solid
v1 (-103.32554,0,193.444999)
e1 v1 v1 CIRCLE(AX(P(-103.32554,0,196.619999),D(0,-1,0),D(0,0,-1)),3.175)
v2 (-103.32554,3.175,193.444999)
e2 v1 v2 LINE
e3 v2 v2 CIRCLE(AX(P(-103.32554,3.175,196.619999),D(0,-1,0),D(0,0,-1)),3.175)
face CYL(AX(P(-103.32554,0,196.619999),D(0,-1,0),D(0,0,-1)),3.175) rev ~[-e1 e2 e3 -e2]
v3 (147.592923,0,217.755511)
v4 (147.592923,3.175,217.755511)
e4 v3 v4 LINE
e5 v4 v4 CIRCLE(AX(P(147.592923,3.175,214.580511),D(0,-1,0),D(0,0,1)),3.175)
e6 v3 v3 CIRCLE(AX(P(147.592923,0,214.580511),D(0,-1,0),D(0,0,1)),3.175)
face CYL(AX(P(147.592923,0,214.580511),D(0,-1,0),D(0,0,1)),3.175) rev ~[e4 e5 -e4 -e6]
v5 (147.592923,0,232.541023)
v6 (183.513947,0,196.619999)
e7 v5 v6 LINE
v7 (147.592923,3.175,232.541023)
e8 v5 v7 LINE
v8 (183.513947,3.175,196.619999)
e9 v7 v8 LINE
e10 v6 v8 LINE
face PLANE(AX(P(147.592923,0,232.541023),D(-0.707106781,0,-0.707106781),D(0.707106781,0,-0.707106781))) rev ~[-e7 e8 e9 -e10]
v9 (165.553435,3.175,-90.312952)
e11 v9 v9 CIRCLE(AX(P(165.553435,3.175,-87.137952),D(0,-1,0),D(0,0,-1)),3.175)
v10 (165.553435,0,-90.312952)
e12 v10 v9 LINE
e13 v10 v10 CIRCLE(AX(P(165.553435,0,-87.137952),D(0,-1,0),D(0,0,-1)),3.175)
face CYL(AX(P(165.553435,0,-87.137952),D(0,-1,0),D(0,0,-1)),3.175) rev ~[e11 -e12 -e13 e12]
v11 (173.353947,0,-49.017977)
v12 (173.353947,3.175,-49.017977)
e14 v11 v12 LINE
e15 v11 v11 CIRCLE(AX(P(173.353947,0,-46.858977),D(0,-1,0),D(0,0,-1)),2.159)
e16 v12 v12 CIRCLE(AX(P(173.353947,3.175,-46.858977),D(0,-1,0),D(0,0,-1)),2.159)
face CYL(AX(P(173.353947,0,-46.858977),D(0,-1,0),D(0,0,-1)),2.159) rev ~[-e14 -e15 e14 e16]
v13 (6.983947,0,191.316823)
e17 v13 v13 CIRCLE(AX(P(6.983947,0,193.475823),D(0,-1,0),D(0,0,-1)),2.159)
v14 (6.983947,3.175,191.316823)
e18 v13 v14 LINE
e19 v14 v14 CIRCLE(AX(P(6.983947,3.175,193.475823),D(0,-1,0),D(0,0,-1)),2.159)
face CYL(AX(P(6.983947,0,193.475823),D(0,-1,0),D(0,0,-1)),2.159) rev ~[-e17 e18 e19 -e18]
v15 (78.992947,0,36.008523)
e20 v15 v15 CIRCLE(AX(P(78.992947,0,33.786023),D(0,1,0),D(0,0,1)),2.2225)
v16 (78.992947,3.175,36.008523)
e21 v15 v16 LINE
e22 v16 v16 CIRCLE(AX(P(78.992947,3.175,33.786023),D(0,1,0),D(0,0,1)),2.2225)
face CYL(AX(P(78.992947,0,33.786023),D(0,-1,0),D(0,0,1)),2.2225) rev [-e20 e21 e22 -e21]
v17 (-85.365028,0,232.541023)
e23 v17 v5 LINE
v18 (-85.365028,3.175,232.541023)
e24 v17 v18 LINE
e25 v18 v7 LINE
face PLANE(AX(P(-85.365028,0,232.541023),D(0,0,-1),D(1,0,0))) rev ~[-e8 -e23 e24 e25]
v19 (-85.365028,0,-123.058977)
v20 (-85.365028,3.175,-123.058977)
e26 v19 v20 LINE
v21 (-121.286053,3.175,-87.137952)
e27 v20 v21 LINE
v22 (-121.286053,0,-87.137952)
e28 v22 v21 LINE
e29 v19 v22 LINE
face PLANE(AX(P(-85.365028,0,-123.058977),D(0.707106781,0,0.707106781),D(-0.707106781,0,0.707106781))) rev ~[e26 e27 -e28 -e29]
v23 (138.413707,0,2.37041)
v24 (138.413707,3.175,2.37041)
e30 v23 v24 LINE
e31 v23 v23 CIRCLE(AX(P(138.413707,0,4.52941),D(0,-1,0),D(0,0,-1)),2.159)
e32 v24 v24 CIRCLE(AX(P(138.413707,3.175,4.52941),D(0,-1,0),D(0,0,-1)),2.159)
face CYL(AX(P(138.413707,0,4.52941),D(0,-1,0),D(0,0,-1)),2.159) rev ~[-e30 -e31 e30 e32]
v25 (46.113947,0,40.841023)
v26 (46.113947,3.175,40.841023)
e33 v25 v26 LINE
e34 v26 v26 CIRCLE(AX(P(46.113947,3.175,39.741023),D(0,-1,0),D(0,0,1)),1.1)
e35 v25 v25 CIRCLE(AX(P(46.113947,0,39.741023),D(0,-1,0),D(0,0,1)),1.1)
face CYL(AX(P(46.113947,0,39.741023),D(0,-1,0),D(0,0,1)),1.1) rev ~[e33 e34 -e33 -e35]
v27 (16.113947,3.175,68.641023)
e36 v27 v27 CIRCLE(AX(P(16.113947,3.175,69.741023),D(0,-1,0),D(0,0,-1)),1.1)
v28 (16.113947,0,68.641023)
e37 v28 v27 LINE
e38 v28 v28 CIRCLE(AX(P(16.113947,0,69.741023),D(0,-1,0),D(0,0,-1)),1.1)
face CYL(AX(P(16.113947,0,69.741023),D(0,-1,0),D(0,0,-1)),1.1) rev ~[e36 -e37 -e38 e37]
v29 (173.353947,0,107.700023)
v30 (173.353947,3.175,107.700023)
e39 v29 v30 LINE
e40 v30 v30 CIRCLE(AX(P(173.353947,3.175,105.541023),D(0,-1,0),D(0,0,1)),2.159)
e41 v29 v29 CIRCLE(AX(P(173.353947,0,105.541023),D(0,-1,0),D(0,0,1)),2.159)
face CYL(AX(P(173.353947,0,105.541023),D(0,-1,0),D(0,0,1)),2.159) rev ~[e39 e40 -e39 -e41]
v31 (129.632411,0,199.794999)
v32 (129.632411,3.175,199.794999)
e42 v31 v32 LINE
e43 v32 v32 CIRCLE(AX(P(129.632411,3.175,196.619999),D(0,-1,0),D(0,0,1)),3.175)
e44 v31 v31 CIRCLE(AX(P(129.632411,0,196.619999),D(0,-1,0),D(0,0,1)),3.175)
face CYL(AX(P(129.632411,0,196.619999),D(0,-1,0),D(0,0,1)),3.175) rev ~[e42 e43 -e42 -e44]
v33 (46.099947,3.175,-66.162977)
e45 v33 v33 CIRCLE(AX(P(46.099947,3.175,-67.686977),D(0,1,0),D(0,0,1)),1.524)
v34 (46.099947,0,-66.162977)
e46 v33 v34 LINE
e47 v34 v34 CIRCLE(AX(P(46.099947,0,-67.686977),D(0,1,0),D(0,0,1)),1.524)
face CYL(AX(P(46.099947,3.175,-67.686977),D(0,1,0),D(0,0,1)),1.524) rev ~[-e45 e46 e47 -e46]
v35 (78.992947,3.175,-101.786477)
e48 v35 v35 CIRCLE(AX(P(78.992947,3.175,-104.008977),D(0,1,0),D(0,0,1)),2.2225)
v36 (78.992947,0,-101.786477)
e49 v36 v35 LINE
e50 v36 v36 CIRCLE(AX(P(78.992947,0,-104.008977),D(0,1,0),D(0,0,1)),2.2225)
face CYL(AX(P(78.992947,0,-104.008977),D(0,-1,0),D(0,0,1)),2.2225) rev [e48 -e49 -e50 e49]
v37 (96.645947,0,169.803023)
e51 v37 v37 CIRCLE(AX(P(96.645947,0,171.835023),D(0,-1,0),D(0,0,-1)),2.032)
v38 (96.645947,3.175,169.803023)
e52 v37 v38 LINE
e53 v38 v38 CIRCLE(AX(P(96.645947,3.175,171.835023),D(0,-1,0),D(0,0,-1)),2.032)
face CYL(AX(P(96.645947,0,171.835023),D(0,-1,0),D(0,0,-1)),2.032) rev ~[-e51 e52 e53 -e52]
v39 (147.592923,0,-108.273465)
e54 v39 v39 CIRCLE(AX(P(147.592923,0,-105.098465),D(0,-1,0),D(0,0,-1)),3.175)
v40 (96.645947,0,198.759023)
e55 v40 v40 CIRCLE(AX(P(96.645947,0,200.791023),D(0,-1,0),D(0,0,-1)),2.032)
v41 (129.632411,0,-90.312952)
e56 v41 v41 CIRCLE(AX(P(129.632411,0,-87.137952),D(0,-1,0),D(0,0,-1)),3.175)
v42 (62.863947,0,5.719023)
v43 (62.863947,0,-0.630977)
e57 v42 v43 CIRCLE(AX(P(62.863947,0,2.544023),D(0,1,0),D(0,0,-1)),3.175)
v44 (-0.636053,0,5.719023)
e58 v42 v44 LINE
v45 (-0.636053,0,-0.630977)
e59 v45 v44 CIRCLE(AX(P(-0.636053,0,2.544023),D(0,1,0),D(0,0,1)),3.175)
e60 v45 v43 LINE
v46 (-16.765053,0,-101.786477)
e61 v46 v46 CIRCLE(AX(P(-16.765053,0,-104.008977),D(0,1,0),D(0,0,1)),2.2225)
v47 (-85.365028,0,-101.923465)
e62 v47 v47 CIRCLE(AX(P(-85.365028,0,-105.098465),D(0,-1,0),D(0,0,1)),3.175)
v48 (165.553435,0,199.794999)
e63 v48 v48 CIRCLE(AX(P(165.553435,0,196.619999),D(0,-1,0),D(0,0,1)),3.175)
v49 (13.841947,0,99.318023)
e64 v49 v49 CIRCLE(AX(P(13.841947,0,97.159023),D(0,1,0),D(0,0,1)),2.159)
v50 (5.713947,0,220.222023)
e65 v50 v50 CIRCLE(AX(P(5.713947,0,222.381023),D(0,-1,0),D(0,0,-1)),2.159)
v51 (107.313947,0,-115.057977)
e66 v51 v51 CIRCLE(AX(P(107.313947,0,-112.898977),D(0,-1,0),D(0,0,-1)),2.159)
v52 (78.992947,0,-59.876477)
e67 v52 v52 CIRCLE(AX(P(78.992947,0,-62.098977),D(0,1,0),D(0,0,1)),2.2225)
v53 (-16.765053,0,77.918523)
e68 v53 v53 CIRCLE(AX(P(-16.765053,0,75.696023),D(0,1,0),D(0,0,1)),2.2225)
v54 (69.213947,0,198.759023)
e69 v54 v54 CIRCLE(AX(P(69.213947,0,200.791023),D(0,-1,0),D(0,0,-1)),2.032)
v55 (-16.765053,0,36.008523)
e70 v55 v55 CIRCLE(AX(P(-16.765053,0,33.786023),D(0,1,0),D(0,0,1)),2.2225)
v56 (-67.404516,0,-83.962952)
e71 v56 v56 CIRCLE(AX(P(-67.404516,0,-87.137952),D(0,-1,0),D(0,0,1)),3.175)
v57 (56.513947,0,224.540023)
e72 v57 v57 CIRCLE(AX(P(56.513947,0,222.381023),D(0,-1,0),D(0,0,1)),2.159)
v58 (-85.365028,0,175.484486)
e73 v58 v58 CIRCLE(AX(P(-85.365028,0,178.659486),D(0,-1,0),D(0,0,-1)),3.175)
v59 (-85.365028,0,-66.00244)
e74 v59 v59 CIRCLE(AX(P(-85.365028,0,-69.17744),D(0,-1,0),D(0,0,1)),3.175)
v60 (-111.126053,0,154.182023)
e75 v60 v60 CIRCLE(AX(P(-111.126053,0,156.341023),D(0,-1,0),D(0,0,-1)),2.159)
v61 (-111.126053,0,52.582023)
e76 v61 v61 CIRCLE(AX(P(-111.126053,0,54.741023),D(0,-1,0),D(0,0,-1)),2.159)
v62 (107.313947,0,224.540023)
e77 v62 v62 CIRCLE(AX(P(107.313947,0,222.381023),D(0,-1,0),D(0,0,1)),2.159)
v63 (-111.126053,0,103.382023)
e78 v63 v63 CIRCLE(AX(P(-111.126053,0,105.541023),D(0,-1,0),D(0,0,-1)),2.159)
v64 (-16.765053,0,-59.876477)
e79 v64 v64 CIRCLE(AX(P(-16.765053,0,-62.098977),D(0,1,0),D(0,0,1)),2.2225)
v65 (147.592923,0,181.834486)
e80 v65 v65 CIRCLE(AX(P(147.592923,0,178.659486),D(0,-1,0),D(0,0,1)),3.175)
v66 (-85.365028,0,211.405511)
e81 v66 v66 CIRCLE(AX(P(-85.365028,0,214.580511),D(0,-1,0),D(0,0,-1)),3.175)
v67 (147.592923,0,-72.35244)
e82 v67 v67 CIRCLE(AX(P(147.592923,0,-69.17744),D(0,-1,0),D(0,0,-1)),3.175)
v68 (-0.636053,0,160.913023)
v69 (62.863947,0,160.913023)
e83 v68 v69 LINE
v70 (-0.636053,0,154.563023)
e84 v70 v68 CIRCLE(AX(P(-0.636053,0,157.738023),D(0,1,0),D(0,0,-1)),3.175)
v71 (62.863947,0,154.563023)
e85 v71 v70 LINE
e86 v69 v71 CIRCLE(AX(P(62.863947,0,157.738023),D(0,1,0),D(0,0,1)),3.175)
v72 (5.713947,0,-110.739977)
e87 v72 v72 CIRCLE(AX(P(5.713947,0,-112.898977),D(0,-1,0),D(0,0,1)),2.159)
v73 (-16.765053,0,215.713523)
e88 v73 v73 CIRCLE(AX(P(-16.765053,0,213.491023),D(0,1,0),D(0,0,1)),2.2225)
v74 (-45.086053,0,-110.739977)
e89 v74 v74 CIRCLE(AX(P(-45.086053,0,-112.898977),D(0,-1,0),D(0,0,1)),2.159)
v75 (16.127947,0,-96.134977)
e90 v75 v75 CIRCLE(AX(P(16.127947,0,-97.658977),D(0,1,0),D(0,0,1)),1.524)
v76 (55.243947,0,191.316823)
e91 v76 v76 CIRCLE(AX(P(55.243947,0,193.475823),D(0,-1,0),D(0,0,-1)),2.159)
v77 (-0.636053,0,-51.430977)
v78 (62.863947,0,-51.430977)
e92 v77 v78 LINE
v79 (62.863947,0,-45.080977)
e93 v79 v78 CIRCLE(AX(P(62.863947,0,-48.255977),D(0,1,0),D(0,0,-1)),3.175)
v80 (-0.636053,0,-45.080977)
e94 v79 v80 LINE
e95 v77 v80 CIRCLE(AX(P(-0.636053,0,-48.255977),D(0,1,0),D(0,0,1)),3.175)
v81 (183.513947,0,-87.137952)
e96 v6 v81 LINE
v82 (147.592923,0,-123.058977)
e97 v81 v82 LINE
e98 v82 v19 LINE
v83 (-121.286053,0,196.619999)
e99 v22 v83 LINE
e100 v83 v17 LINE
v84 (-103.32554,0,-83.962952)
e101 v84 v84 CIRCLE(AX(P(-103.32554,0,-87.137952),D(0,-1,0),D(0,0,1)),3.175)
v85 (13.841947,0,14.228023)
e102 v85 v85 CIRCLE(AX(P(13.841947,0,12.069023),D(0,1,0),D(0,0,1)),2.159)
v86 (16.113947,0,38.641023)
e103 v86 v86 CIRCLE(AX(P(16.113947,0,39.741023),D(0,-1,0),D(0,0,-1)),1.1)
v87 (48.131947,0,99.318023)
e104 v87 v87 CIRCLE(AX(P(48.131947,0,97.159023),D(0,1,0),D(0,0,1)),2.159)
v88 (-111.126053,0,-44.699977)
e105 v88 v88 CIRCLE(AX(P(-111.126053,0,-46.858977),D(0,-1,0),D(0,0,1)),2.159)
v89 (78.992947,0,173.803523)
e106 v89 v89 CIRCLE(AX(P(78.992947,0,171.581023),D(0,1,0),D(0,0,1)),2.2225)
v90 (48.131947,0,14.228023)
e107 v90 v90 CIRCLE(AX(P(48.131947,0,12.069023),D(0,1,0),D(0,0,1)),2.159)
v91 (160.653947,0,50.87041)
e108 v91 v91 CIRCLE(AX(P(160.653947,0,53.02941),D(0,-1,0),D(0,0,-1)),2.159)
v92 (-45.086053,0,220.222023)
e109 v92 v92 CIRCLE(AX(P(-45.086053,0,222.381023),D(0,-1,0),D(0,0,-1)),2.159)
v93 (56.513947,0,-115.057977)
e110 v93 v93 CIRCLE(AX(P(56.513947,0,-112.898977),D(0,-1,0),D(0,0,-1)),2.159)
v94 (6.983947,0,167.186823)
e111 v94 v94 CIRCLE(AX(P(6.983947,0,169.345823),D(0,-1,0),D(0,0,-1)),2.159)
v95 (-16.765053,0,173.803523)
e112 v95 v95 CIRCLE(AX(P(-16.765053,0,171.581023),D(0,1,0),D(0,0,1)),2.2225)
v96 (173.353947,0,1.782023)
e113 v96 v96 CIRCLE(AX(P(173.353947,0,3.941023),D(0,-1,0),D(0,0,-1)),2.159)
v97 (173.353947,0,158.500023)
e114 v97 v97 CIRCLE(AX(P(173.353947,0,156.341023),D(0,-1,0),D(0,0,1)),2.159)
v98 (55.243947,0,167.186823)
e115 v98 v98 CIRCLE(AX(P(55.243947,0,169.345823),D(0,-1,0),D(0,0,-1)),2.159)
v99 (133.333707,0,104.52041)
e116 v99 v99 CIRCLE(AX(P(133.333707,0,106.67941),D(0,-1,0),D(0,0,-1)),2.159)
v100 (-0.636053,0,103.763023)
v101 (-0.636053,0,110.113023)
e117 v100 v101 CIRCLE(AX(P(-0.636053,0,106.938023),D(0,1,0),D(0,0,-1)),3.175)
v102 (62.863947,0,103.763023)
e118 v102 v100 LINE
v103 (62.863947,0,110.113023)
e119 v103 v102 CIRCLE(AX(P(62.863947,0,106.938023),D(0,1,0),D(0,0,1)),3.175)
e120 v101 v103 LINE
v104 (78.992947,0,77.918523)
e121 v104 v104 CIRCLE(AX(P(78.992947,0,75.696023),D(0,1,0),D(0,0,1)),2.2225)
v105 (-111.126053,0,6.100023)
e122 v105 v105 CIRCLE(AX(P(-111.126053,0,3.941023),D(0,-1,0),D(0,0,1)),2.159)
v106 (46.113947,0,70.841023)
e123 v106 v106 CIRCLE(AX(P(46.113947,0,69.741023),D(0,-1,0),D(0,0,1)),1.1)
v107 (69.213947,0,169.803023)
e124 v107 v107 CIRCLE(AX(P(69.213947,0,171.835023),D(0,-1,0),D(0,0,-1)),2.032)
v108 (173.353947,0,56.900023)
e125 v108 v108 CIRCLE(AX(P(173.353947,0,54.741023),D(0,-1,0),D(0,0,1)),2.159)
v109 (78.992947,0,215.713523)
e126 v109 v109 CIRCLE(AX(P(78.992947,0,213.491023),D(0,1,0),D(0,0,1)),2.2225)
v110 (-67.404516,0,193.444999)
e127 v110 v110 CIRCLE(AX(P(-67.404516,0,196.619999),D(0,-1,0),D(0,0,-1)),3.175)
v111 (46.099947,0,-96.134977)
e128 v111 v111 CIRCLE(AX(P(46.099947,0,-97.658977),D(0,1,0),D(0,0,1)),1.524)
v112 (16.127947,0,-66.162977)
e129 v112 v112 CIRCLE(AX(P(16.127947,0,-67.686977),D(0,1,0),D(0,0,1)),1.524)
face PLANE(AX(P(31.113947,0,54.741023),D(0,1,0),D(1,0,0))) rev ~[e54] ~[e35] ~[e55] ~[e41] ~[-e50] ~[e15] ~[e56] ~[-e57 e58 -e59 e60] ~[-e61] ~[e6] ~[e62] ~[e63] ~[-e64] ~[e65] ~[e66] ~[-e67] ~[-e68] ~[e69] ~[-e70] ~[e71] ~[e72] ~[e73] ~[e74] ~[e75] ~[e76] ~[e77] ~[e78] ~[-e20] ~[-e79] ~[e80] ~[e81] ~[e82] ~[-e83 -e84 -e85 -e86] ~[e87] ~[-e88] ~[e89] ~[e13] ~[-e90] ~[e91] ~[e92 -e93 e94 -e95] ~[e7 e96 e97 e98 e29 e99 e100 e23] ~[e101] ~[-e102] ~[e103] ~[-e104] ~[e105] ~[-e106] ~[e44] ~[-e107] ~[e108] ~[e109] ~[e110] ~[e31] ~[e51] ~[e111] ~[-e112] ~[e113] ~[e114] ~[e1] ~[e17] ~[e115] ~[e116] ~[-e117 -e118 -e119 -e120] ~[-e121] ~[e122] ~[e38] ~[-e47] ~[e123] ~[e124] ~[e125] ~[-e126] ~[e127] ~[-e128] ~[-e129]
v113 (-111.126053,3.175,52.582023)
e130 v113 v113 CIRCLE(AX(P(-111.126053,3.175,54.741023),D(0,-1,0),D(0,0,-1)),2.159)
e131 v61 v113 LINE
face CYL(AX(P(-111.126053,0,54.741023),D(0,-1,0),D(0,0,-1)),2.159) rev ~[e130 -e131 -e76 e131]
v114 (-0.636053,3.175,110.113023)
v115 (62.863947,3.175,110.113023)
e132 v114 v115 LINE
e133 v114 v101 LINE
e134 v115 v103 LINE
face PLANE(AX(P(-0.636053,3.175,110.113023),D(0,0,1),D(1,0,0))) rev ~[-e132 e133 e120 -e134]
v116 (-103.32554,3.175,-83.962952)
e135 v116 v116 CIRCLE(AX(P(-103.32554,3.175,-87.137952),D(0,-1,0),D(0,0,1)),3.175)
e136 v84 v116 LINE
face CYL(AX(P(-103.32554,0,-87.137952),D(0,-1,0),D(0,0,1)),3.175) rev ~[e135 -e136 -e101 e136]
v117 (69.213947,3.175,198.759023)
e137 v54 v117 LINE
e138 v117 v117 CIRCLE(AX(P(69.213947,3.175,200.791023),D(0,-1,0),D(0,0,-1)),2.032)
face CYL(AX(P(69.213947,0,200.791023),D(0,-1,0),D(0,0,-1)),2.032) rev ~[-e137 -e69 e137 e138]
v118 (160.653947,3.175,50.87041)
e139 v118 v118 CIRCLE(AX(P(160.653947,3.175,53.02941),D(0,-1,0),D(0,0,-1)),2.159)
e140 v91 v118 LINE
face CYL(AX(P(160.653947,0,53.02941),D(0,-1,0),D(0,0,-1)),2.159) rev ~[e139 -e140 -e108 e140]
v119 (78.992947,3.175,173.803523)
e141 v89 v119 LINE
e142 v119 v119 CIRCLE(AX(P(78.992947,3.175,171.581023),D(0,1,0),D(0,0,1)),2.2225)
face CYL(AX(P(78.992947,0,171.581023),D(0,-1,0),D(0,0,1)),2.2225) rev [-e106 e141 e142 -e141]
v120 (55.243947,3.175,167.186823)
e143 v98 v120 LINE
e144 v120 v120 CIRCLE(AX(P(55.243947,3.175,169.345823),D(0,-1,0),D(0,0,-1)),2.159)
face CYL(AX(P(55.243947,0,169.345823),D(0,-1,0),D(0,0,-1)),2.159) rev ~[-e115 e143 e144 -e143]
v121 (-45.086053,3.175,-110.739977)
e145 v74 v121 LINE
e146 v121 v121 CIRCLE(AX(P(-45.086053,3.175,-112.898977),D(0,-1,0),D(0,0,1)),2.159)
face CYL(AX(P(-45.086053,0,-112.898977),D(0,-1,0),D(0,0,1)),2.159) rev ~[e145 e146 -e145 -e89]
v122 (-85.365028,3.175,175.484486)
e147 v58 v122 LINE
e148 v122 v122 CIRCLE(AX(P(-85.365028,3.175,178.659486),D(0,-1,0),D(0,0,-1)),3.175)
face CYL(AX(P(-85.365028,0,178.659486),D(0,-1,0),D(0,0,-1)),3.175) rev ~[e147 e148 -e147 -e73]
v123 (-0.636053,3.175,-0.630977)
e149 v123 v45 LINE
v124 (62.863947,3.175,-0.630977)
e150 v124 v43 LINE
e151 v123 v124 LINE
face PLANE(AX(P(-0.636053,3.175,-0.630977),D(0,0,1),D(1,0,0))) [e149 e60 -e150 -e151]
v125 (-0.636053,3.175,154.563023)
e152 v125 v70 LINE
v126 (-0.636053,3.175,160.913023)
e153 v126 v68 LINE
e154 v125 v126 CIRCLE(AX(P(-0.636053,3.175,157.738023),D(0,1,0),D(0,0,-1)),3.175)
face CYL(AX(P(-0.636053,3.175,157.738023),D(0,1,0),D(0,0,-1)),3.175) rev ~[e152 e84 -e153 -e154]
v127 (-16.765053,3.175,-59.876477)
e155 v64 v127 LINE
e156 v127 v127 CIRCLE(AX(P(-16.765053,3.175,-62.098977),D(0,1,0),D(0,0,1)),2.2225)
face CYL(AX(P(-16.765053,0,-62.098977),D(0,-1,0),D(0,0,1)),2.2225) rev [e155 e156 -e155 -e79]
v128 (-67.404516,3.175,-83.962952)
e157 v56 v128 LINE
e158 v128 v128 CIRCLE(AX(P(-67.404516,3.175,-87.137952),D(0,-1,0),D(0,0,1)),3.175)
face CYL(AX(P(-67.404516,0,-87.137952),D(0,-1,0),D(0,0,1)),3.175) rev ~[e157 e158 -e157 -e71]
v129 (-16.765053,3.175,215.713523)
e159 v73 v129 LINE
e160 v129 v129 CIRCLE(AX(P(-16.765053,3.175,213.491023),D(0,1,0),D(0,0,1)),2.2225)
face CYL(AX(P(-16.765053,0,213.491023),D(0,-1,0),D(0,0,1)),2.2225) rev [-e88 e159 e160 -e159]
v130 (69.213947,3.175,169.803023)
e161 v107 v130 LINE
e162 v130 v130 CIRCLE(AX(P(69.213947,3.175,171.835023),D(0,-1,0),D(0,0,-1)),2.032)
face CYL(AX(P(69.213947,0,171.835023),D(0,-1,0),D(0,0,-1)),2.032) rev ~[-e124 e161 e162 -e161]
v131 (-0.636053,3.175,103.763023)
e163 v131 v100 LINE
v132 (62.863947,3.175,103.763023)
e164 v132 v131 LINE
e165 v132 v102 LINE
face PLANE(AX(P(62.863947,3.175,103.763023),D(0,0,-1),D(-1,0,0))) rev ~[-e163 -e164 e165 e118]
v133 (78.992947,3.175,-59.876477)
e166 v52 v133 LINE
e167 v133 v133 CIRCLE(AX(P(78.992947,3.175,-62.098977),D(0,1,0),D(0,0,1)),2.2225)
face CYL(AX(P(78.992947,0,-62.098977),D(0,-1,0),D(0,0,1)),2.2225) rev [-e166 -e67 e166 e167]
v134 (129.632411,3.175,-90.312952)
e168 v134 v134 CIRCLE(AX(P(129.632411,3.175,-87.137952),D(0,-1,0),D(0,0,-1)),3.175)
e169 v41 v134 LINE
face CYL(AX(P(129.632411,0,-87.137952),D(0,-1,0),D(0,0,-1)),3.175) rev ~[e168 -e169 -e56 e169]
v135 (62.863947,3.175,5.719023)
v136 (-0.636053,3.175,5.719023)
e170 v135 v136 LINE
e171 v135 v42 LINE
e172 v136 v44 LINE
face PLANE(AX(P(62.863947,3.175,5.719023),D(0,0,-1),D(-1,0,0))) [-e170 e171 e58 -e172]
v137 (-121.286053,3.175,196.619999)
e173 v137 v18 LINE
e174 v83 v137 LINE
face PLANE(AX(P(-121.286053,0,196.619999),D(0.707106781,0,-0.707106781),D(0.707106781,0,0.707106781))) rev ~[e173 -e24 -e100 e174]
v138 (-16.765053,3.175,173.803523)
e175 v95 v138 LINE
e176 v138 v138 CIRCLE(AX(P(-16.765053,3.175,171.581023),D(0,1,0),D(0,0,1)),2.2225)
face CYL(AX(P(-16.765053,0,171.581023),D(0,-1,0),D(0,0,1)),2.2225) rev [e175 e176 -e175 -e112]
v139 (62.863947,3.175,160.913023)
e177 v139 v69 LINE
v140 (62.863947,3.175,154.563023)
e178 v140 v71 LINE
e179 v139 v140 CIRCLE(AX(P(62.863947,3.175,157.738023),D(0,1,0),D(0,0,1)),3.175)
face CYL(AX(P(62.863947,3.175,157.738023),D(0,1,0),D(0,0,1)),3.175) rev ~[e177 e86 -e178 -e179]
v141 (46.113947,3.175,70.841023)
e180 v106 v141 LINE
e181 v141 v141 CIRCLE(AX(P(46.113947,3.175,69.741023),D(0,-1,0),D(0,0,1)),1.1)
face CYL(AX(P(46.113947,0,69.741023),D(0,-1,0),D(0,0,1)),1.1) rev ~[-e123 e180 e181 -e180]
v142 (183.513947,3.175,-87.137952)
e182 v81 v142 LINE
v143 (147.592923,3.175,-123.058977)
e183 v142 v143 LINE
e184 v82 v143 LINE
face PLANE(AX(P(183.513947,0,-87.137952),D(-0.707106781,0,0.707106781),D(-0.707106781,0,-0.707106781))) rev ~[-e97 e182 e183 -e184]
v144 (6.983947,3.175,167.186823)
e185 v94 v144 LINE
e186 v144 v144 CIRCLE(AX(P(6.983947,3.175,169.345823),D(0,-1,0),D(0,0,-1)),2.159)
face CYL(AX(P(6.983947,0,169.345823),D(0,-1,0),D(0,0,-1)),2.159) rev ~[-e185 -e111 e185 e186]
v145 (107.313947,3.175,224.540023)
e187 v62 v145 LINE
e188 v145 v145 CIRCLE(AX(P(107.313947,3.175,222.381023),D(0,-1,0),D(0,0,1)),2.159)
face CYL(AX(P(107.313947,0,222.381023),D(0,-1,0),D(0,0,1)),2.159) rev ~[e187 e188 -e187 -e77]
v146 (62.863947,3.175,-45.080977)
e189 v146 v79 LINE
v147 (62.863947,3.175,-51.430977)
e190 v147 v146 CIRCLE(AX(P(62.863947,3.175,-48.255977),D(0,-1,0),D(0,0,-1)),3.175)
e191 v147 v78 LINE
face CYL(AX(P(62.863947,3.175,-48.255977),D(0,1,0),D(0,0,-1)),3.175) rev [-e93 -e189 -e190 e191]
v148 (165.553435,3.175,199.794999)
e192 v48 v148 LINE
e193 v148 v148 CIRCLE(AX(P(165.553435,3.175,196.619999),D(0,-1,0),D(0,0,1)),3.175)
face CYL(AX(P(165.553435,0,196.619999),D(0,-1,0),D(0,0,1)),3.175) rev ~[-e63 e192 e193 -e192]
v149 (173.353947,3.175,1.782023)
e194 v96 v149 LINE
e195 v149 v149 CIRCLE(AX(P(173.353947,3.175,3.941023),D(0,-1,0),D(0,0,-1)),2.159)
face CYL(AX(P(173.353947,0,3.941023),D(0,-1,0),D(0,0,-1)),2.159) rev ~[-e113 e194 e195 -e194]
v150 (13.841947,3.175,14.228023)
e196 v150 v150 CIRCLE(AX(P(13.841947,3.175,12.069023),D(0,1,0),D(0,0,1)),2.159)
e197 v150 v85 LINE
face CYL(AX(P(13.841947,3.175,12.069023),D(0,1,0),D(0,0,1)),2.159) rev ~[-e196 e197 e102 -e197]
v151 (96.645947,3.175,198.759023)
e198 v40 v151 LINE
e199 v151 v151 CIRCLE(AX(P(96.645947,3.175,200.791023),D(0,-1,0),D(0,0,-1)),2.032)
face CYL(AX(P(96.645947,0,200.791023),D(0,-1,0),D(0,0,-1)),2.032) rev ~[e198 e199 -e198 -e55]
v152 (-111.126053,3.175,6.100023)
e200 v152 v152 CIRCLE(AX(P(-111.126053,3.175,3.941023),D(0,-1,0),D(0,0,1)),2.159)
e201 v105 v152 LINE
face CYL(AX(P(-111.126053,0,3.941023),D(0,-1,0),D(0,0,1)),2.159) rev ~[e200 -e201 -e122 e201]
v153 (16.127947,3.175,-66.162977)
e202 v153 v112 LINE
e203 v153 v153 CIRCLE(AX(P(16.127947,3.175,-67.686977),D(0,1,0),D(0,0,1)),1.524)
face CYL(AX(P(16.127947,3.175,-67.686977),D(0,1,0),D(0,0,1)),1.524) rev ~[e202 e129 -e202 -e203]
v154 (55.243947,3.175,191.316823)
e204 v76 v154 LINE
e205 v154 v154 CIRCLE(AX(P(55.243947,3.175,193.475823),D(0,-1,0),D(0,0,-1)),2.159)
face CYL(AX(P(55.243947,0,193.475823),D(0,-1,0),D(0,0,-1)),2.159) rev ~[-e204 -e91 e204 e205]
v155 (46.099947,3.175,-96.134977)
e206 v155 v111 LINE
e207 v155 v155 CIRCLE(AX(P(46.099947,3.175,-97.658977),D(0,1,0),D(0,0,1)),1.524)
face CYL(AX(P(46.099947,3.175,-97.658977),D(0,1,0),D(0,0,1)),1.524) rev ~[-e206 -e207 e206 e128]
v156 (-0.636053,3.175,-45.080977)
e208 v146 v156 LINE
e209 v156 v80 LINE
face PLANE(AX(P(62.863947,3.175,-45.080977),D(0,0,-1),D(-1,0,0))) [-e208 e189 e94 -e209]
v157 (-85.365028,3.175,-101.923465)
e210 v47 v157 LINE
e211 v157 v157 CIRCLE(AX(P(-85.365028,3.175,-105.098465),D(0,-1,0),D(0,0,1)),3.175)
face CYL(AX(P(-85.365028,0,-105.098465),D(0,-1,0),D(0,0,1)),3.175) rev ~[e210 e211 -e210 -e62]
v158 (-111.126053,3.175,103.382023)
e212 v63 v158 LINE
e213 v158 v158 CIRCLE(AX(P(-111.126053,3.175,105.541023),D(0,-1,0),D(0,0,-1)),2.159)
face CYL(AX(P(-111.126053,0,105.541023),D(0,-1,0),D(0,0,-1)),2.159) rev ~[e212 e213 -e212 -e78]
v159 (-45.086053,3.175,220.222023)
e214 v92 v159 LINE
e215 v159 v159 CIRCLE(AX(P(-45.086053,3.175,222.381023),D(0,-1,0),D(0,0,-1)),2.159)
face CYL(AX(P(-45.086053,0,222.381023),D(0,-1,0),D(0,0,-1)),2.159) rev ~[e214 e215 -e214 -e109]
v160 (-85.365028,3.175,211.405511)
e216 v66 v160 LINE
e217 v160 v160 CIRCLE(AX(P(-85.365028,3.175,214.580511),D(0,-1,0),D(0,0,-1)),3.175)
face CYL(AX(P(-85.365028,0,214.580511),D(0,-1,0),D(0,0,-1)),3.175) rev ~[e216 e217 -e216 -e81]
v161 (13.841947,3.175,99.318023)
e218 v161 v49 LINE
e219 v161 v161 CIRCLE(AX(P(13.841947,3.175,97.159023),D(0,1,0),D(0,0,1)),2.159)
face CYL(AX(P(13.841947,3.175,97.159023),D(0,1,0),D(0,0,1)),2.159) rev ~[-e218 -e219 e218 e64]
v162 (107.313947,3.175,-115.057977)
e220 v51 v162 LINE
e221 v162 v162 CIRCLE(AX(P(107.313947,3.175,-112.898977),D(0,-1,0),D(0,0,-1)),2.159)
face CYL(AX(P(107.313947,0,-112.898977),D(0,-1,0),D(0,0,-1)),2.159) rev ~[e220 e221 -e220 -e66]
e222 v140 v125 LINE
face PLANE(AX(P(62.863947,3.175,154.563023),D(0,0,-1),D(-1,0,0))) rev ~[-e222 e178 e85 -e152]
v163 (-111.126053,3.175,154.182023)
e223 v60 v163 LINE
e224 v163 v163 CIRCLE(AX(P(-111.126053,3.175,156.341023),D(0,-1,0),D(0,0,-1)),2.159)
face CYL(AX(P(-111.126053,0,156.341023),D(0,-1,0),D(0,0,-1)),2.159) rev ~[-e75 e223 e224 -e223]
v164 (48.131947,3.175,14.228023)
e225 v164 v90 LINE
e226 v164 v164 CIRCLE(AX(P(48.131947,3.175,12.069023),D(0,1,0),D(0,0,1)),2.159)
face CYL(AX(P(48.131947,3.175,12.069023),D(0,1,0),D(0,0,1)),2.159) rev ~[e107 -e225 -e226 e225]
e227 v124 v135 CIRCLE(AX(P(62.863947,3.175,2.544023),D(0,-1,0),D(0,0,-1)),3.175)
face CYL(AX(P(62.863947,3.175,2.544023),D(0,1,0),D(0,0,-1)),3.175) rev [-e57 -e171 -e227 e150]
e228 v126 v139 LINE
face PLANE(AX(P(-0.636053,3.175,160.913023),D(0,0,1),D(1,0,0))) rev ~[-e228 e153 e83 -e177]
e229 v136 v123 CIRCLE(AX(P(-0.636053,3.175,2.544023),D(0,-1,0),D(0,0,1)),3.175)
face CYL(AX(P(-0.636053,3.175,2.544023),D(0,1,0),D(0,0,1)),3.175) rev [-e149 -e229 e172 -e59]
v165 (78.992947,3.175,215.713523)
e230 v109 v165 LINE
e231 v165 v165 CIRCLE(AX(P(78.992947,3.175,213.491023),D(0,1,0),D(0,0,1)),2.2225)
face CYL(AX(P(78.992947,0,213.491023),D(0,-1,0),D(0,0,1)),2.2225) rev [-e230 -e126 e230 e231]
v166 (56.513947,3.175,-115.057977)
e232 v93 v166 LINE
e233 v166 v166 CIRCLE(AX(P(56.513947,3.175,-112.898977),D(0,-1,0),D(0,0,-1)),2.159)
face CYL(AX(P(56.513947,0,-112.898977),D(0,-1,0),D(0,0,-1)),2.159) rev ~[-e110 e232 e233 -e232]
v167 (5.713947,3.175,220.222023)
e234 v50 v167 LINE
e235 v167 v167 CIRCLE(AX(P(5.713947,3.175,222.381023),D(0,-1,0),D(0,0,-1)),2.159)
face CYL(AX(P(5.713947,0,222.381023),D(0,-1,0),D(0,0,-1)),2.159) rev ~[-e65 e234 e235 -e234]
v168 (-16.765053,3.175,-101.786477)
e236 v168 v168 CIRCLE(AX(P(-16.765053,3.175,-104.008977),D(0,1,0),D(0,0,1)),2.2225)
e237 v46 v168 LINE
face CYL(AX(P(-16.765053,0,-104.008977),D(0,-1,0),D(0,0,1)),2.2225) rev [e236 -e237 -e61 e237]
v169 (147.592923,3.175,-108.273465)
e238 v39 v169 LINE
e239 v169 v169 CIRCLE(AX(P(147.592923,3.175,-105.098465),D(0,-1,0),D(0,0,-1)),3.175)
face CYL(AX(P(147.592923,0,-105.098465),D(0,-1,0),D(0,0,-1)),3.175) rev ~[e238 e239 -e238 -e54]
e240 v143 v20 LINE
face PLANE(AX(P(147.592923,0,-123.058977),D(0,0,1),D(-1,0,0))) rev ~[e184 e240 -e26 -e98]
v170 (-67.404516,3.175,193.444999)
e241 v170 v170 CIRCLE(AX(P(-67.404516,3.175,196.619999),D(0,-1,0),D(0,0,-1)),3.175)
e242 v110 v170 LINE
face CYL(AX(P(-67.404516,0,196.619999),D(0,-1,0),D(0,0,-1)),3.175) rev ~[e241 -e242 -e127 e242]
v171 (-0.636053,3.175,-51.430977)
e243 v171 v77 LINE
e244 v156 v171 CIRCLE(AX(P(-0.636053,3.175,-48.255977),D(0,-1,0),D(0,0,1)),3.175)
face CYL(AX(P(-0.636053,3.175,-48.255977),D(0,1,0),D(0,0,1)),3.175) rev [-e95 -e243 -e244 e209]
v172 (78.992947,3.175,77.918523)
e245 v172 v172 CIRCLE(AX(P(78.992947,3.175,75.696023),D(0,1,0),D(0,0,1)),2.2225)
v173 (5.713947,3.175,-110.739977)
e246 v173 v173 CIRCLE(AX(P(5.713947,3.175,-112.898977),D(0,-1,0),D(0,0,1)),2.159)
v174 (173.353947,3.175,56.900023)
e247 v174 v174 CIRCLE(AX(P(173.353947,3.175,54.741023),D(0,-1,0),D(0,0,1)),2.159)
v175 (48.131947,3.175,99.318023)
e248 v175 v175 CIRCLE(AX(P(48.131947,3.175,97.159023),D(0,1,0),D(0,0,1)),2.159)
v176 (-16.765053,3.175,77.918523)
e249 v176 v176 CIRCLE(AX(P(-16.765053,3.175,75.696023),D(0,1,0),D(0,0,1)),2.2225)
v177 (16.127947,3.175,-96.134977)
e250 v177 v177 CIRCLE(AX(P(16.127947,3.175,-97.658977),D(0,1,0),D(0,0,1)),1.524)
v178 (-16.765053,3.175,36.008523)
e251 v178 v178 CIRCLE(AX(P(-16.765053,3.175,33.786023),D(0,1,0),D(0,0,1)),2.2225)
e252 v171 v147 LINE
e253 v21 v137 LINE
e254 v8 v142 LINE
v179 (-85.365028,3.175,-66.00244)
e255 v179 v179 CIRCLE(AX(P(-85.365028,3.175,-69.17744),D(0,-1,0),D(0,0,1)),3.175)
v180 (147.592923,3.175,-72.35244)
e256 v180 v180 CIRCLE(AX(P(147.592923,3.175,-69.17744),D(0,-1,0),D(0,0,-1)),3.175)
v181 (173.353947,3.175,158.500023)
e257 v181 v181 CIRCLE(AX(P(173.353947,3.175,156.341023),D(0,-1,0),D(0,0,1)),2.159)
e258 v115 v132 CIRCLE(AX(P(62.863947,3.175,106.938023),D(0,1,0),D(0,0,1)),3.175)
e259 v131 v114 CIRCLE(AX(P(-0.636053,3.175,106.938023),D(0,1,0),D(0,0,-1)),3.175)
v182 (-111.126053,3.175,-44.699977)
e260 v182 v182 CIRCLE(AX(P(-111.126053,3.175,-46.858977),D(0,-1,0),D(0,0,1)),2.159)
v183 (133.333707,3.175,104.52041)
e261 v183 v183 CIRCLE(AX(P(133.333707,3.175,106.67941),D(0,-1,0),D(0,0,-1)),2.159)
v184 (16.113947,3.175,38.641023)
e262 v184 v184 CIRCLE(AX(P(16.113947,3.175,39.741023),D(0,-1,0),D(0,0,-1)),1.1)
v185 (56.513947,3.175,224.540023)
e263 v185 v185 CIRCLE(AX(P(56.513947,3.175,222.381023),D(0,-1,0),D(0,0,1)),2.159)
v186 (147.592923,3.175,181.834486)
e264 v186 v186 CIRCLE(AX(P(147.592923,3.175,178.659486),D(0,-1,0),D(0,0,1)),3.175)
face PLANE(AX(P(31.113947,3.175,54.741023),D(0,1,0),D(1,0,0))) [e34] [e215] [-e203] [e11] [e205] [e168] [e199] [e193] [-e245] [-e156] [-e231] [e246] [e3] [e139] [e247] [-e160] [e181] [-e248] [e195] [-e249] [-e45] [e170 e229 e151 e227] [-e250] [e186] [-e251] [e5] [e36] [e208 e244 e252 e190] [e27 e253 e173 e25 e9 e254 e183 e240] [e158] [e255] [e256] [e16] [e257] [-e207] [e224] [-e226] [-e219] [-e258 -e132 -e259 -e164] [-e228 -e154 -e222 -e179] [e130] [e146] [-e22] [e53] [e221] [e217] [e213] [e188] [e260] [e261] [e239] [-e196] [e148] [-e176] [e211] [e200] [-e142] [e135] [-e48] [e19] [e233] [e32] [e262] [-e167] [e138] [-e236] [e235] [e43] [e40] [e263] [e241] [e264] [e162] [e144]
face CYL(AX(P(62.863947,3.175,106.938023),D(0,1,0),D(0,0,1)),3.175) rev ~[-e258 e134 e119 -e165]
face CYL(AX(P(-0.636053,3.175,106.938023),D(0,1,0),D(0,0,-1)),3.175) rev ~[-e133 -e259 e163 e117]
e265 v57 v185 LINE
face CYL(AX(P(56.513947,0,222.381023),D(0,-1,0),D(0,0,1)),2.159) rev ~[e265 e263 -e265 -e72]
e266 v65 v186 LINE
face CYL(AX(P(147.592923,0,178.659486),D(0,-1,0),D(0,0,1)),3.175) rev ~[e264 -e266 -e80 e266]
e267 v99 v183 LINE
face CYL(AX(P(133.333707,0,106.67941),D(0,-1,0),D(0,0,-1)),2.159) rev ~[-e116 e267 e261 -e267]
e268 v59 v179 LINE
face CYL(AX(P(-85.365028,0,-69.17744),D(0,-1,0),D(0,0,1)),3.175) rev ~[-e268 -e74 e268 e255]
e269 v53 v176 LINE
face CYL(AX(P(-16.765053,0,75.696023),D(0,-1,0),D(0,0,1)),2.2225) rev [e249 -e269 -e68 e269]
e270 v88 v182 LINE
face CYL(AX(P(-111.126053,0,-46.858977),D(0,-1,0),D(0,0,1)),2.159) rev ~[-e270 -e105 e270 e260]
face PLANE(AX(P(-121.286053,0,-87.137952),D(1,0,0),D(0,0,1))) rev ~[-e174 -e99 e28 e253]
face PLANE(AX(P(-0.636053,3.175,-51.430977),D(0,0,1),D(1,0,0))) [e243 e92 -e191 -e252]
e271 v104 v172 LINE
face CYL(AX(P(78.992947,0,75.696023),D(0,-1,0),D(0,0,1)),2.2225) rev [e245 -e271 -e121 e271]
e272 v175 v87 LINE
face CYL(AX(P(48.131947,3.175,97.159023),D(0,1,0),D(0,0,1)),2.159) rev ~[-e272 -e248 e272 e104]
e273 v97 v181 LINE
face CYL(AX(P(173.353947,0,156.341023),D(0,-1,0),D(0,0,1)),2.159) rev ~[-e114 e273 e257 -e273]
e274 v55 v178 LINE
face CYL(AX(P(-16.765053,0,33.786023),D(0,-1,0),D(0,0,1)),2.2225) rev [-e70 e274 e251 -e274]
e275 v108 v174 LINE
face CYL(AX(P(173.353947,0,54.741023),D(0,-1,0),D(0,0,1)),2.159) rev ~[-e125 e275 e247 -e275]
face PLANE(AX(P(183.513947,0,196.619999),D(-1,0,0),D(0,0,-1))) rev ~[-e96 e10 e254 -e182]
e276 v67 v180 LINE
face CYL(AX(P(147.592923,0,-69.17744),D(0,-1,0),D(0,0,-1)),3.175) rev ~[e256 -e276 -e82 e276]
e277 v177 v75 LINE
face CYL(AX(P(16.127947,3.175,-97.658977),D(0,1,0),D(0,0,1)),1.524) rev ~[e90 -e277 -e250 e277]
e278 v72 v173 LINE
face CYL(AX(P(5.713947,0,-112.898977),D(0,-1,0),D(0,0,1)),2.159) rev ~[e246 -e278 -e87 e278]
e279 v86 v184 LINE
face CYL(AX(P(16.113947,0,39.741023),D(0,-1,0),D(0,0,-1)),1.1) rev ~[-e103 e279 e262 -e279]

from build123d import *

# Parameters (mm, degrees)
SKETCH1_R           = 2.2225
BOSS_EXTRUDE1_DEPTH = 3.175
SKETCH2_R           = 2.159
CUT_EXTRUDE1_DEPTH  = 297.247830215
CUT_EXTRUDE2_DEPTH  = 297.247830215
SKETCH7_R           = 1.524
CUT_EXTRUDE3_DEPTH  = 297.247830215
SKETCH10_R          = 2.159
CUT_EXTRUDE6_DEPTH  = 297.247830215
SKETCH9_R           = 2.032
CUT_EXTRUDE5_DEPTH  = 297.247830215
SKETCH13_R          = 1.1
CUT_EXTRUDE8_DEPTH  = 297.247830215
SKETCH14_R          = 3.175
CUT_EXTRUDE9_DEPTH  = 297.247830215
SKETCH15_R          = 2.159
CUT_EXTRUDE10_DEPTH = 297.247830215
SKETCH16_R          = 2.159
CUT_EXTRUDE11_DEPTH = 297.247830215


with BuildPart() as part:
    # Sketch1 → Boss-Extrude1 (new body)
    with BuildSketch(Plane(origin=(0, 0, 0), x_dir=(1, 0, 0), z_dir=(0, 1, 0))):
        Polygon((-85.365028143, 123.058976948), (-121.286052627, 87.137952464), (-121.286052627, -196.619998567), (-85.365028143, -232.541023052), (147.592922888, -232.541023052), (183.513947373, -196.619998567), (183.513947373, 87.137952464), (147.592922888, 123.058976948), align=None)
        with Locations(Location((-16.765052627, -213.491023052, 0), (0, 0, 270))):
            Circle(SKETCH1_R, mode=Mode.SUBTRACT)
        with Locations(Location((-16.765052627, -171.581023052, 0), (0, 0, 270))):
            Circle(SKETCH1_R, mode=Mode.SUBTRACT)
        with Locations(Location((-16.765052627, -75.696023052, 0), (0, 0, 270))):
            Circle(SKETCH1_R, mode=Mode.SUBTRACT)
        with Locations(Location((78.992947373, -213.491023052, 0), (0, 0, 270))):
            Circle(SKETCH1_R, mode=Mode.SUBTRACT)
        with Locations(Location((78.992947373, -171.581023052, 0), (0, 0, 270))):
            Circle(SKETCH1_R, mode=Mode.SUBTRACT)
        with Locations(Location((78.992947373, -75.696023052, 0), (0, 0, 270))):
            Circle(SKETCH1_R, mode=Mode.SUBTRACT)
        with Locations(Location((-16.765052627, -33.786023052, 0), (0, 0, 270))):
            Circle(SKETCH1_R, mode=Mode.SUBTRACT)
        with Locations(Location((-16.765052627, 62.098976948, 0), (0, 0, 270))):
            Circle(SKETCH1_R, mode=Mode.SUBTRACT)
        with Locations(Location((-16.765052627, 104.008976948, 0), (0, 0, 270))):
            Circle(SKETCH1_R, mode=Mode.SUBTRACT)
        with Locations(Location((78.992947373, -33.786023052, 0), (0, 0, 270))):
            Circle(SKETCH1_R, mode=Mode.SUBTRACT)
        with Locations(Location((78.992947373, 62.098976948, 0), (0, 0, 270))):
            Circle(SKETCH1_R, mode=Mode.SUBTRACT)
        with Locations(Location((78.992947373, 104.008976948, 0), (0, 0, 270))):
            Circle(SKETCH1_R, mode=Mode.SUBTRACT)
    extrude(amount=BOSS_EXTRUDE1_DEPTH)

    # Sketch2 → Cut-Extrude1 (cut, through all)
    with BuildSketch(Plane(origin=(0, 3.175, 0), x_dir=(1, 0, 0), z_dir=(0, 1, 0))):
        with Locations(Location((13.841947373, -12.069023052, 0), (0, 0, 270))):
            Circle(SKETCH2_R)
        with Locations(Location((48.131947373, -12.069023052, 0), (0, 0, 270))):
            Circle(SKETCH2_R)
        with Locations(Location((13.841947373, -97.159023052, 0), (0, 0, 270))):
            Circle(SKETCH2_R)
        with Locations(Location((48.131947373, -97.159023052, 0), (0, 0, 270))):
            Circle(SKETCH2_R)
    extrude(amount=-CUT_EXTRUDE1_DEPTH, mode=Mode.SUBTRACT)

    # Sketch4 → Cut-Extrude2 (cut, through all)
    with BuildSketch(Plane(origin=(0, 3.175, 0), x_dir=(1, 0, 0), z_dir=(0, 1, 0))):
        with BuildLine():
            Line((-0.636052627, 51.430976948), (62.863947373, 51.430976948))
            ThreePointArc((62.863947373, 51.430976948), (66.038947373, 48.255976948), (62.863947373, 45.080976948))
            Line((62.863947373, 45.080976948), (-0.636052627, 45.080976948))
            ThreePointArc((-0.636052627, 45.080976948), (-3.811052627, 48.255976948), (-0.636052627, 51.430976948))
        make_face()
        with BuildLine():
            Line((-0.636052627, 0.630976948), (62.863947373, 0.630976948))
            ThreePointArc((62.863947373, 0.630976948), (66.038947373, -2.544023052), (62.863947373, -5.719023052))
            Line((62.863947373, -5.719023052), (-0.636052627, -5.719023052))
            ThreePointArc((-0.636052627, -5.719023052), (-3.811052627, -2.544023052), (-0.636052627, 0.630976948))
        make_face()
        with BuildLine():
            Line((-0.636052627, -110.113023052), (62.863947373, -110.113023052))
            ThreePointArc((62.863947373, -110.113023052), (66.038947373, -106.938023052), (62.863947373, -103.763023052))
            Line((62.863947373, -103.763023052), (-0.636052627, -103.763023052))
            ThreePointArc((-0.636052627, -103.763023052), (-3.811052627, -106.938023052), (-0.636052627, -110.113023052))
        make_face()
        with BuildLine():
            Line((-0.636052627, -160.913023052), (62.863947373, -160.913023052))
            ThreePointArc((62.863947373, -160.913023052), (66.038947373, -157.738023052), (62.863947373, -154.563023052))
            Line((62.863947373, -154.563023052), (-0.636052627, -154.563023052))
            ThreePointArc((-0.636052627, -154.563023052), (-3.811052627, -157.738023052), (-0.636052627, -160.913023052))
        make_face()
    extrude(amount=-CUT_EXTRUDE2_DEPTH, mode=Mode.SUBTRACT)

    # Sketch7 → Cut-Extrude3 (cut, through all)
    with BuildSketch(Plane(origin=(0, 3.175, 0), x_dir=(1, 0, 0), z_dir=(0, 1, 0))):
        with Locations(Location((16.127947373, 67.686976948, 0), (0, 0, 270))):
            Circle(SKETCH7_R)
        with Locations(Location((46.099947373, 67.686976948, 0), (0, 0, 270))):
            Circle(SKETCH7_R)
        with Locations(Location((16.127947373, 97.658976948, 0), (0, 0, 270))):
            Circle(SKETCH7_R)
        with Locations(Location((46.099947373, 97.658976948, 0), (0, 0, 270))):
            Circle(SKETCH7_R)
    extrude(amount=-CUT_EXTRUDE3_DEPTH, mode=Mode.SUBTRACT)

    # Sketch10 → Cut-Extrude6 (cut, through all)
    with BuildSketch(Plane.XZ):
        with Locations(Location((6.983947373, 193.475823052, 0), (0, 0, 270))):
            Circle(SKETCH10_R)
        with Locations(Location((55.243947373, 193.475823052, 0), (0, 0, 270))):
            Circle(SKETCH10_R)
        with Locations(Location((6.983947373, 169.345823052, 0), (0, 0, 270))):
            Circle(SKETCH10_R)
        with Locations(Location((55.243947373, 169.345823052, 0), (0, 0, 270))):
            Circle(SKETCH10_R)
    extrude(amount=-CUT_EXTRUDE6_DEPTH, mode=Mode.SUBTRACT)

    # Sketch9 → Cut-Extrude5 (cut, through all)
    with BuildSketch(Plane(origin=(0, 0, 0), x_dir=(-1, 0, 0), z_dir=(0, -1, 0))):
        with Locations(Location((-69.213947373, -200.791023052, 0), (0, 0, 90))):
            Circle(SKETCH9_R)
        with Locations(Location((-96.645947373, -200.791023052, 0), (0, 0, 90))):
            Circle(SKETCH9_R)
        with Locations(Location((-69.213947373, -171.835023052, 0), (0, 0, 90))):
            Circle(SKETCH9_R)
        with Locations(Location((-96.645947373, -171.835023052, 0), (0, 0, 90))):
            Circle(SKETCH9_R)
    extrude(amount=-CUT_EXTRUDE5_DEPTH, mode=Mode.SUBTRACT)

    # Sketch13 → Cut-Extrude8 (cut, through all)
    with BuildSketch(Plane.XZ):
        with Locations(Location((16.113947373, 69.741023052, 0), (0, 0, 270))):
            Circle(SKETCH13_R)
        with Locations(Location((16.113947373, 39.741023052, 0), (0, 0, 270))):
            Circle(SKETCH13_R)
        with Locations(Location((46.113947373, 39.741023052, 0), (0, 0, 90))):
            Circle(SKETCH13_R)
        with Locations(Location((46.113947373, 69.741023052, 0), (0, 0, 90))):
            Circle(SKETCH13_R)
    extrude(amount=-CUT_EXTRUDE8_DEPTH, mode=Mode.SUBTRACT)

    # Sketch14 → Cut-Extrude9 (cut, through all)
    with BuildSketch(Plane.XZ):
        with Locations(Location((-103.325540385, 196.619998567, 0), (0, 0, 270))):
            Circle(SKETCH14_R)
        with Locations(Location((-85.365028143, 214.580510809, 0), (0, 0, 270))):
            Circle(SKETCH14_R)
        with Locations(Location((-85.365028143, 178.659486325, 0), (0, 0, 270))):
            Circle(SKETCH14_R)
        with Locations(Location((-67.404515901, 196.619998567, 0), (0, 0, 270))):
            Circle(SKETCH14_R)
        with Locations(Location((129.632410646, 196.619998567, 0), (0, 0, 90))):
            Circle(SKETCH14_R)
        with Locations(Location((147.592922888, 178.659486325, 0), (0, 0, 90))):
            Circle(SKETCH14_R)
        with Locations(Location((165.55343513, 196.619998567, 0), (0, 0, 90))):
            Circle(SKETCH14_R)
        with Locations(Location((147.592922888, 214.580510809, 0), (0, 0, 90))):
            Circle(SKETCH14_R)
        with Locations(Location((-85.365028143, -105.098464706, 0), (0, 0, 90))):
            Circle(SKETCH14_R)
        with Locations(Location((-103.325540385, -87.137952464, 0), (0, 0, 90))):
            Circle(SKETCH14_R)
        with Locations(Location((-85.365028143, -69.177440222, 0), (0, 0, 90))):
            Circle(SKETCH14_R)
        with Locations(Location((-67.404515901, -87.137952464, 0), (0, 0, 90))):
            Circle(SKETCH14_R)
        with Locations(Location((165.55343513, -87.137952464, 0), (0, 0, 270))):
            Circle(SKETCH14_R)
        with Locations(Location((147.592922888, -69.177440222, 0), (0, 0, 270))):
            Circle(SKETCH14_R)
        with Locations(Location((147.592922888, -105.098464706, 0), (0, 0, 270))):
            Circle(SKETCH14_R)
        with Locations(Location((129.632410646, -87.137952464, 0), (0, 0, 270))):
            Circle(SKETCH14_R)
    extrude(amount=-CUT_EXTRUDE9_DEPTH, mode=Mode.SUBTRACT)

    # Sketch15 → Cut-Extrude10 (cut, through all)
    with BuildSketch(Plane.XZ):
        with Locations(Location((5.713947373, 222.381023052, 0), (0, 0, 270))):
            Circle(SKETCH15_R)
        with Locations(Location((-45.086052627, 222.381023052, 0), (0, 0, 270))):
            Circle(SKETCH15_R)
        with Locations(Location((-111.126052627, 54.741023052, 0), (0, 0, 270))):
            Circle(SKETCH15_R)
        with Locations(Location((-111.126052627, 105.541023052, 0), (0, 0, 270))):
            Circle(SKETCH15_R)
        with Locations(Location((-111.126052627, 156.341023052, 0), (0, 0, 270))):
            Circle(SKETCH15_R)
        with Locations(Location((173.353947373, 156.341023052, 0), (0, 0, 90))):
            Circle(SKETCH15_R)
        with Locations(Location((173.353947373, 105.541023052, 0), (0, 0, 90))):
            Circle(SKETCH15_R)
        with Locations(Location((173.353947373, 54.741023052, 0), (0, 0, 90))):
            Circle(SKETCH15_R)
        with Locations(Location((107.313947373, 222.381023052, 0), (0, 0, 90))):
            Circle(SKETCH15_R)
        with Locations(Location((56.513947373, 222.381023052, 0), (0, 0, 90))):
            Circle(SKETCH15_R)
        with Locations(Location((56.513947373, -112.898976948, 0), (0, 0, 270))):
            Circle(SKETCH15_R)
        with Locations(Location((107.313947373, -112.898976948, 0), (0, 0, 270))):
            Circle(SKETCH15_R)
        with Locations(Location((173.353947373, 3.941023052, 0), (0, 0, 270))):
            Circle(SKETCH15_R)
        with Locations(Location((173.353947373, -46.858976948, 0), (0, 0, 270))):
            Circle(SKETCH15_R)
        with Locations(Location((-111.126052627, -46.858976948, 0), (0, 0, 90))):
            Circle(SKETCH15_R)
        with Locations(Location((-111.126052627, 3.941023052, 0), (0, 0, 90))):
            Circle(SKETCH15_R)
        with Locations(Location((-45.086052627, -112.898976948, 0), (0, 0, 90))):
            Circle(SKETCH15_R)
        with Locations(Location((5.713947373, -112.898976948, 0), (0, 0, 90))):
            Circle(SKETCH15_R)
    extrude(amount=-CUT_EXTRUDE10_DEPTH, mode=Mode.SUBTRACT)

    # Sketch16 → Cut-Extrude11 (cut, through all)
    with BuildSketch(Plane(origin=(0, 0, 0), x_dir=(-1, 0, 0), z_dir=(0, -1, 0))):
        with Locations(Location((-133.333707373, -106.679409794, 0), (0, 0, 90))):
            Circle(SKETCH16_R)
        with Locations(Location((-138.413707373, -4.529409794, 0), (0, 0, 90))):
            Circle(SKETCH16_R)
        with Locations(Location((-160.653947373, -53.029409794, 0), (0, 0, 90))):
            Circle(SKETCH16_R)
    extrude(amount=-CUT_EXTRUDE11_DEPTH, mode=Mode.SUBTRACT)


solid = part.part
